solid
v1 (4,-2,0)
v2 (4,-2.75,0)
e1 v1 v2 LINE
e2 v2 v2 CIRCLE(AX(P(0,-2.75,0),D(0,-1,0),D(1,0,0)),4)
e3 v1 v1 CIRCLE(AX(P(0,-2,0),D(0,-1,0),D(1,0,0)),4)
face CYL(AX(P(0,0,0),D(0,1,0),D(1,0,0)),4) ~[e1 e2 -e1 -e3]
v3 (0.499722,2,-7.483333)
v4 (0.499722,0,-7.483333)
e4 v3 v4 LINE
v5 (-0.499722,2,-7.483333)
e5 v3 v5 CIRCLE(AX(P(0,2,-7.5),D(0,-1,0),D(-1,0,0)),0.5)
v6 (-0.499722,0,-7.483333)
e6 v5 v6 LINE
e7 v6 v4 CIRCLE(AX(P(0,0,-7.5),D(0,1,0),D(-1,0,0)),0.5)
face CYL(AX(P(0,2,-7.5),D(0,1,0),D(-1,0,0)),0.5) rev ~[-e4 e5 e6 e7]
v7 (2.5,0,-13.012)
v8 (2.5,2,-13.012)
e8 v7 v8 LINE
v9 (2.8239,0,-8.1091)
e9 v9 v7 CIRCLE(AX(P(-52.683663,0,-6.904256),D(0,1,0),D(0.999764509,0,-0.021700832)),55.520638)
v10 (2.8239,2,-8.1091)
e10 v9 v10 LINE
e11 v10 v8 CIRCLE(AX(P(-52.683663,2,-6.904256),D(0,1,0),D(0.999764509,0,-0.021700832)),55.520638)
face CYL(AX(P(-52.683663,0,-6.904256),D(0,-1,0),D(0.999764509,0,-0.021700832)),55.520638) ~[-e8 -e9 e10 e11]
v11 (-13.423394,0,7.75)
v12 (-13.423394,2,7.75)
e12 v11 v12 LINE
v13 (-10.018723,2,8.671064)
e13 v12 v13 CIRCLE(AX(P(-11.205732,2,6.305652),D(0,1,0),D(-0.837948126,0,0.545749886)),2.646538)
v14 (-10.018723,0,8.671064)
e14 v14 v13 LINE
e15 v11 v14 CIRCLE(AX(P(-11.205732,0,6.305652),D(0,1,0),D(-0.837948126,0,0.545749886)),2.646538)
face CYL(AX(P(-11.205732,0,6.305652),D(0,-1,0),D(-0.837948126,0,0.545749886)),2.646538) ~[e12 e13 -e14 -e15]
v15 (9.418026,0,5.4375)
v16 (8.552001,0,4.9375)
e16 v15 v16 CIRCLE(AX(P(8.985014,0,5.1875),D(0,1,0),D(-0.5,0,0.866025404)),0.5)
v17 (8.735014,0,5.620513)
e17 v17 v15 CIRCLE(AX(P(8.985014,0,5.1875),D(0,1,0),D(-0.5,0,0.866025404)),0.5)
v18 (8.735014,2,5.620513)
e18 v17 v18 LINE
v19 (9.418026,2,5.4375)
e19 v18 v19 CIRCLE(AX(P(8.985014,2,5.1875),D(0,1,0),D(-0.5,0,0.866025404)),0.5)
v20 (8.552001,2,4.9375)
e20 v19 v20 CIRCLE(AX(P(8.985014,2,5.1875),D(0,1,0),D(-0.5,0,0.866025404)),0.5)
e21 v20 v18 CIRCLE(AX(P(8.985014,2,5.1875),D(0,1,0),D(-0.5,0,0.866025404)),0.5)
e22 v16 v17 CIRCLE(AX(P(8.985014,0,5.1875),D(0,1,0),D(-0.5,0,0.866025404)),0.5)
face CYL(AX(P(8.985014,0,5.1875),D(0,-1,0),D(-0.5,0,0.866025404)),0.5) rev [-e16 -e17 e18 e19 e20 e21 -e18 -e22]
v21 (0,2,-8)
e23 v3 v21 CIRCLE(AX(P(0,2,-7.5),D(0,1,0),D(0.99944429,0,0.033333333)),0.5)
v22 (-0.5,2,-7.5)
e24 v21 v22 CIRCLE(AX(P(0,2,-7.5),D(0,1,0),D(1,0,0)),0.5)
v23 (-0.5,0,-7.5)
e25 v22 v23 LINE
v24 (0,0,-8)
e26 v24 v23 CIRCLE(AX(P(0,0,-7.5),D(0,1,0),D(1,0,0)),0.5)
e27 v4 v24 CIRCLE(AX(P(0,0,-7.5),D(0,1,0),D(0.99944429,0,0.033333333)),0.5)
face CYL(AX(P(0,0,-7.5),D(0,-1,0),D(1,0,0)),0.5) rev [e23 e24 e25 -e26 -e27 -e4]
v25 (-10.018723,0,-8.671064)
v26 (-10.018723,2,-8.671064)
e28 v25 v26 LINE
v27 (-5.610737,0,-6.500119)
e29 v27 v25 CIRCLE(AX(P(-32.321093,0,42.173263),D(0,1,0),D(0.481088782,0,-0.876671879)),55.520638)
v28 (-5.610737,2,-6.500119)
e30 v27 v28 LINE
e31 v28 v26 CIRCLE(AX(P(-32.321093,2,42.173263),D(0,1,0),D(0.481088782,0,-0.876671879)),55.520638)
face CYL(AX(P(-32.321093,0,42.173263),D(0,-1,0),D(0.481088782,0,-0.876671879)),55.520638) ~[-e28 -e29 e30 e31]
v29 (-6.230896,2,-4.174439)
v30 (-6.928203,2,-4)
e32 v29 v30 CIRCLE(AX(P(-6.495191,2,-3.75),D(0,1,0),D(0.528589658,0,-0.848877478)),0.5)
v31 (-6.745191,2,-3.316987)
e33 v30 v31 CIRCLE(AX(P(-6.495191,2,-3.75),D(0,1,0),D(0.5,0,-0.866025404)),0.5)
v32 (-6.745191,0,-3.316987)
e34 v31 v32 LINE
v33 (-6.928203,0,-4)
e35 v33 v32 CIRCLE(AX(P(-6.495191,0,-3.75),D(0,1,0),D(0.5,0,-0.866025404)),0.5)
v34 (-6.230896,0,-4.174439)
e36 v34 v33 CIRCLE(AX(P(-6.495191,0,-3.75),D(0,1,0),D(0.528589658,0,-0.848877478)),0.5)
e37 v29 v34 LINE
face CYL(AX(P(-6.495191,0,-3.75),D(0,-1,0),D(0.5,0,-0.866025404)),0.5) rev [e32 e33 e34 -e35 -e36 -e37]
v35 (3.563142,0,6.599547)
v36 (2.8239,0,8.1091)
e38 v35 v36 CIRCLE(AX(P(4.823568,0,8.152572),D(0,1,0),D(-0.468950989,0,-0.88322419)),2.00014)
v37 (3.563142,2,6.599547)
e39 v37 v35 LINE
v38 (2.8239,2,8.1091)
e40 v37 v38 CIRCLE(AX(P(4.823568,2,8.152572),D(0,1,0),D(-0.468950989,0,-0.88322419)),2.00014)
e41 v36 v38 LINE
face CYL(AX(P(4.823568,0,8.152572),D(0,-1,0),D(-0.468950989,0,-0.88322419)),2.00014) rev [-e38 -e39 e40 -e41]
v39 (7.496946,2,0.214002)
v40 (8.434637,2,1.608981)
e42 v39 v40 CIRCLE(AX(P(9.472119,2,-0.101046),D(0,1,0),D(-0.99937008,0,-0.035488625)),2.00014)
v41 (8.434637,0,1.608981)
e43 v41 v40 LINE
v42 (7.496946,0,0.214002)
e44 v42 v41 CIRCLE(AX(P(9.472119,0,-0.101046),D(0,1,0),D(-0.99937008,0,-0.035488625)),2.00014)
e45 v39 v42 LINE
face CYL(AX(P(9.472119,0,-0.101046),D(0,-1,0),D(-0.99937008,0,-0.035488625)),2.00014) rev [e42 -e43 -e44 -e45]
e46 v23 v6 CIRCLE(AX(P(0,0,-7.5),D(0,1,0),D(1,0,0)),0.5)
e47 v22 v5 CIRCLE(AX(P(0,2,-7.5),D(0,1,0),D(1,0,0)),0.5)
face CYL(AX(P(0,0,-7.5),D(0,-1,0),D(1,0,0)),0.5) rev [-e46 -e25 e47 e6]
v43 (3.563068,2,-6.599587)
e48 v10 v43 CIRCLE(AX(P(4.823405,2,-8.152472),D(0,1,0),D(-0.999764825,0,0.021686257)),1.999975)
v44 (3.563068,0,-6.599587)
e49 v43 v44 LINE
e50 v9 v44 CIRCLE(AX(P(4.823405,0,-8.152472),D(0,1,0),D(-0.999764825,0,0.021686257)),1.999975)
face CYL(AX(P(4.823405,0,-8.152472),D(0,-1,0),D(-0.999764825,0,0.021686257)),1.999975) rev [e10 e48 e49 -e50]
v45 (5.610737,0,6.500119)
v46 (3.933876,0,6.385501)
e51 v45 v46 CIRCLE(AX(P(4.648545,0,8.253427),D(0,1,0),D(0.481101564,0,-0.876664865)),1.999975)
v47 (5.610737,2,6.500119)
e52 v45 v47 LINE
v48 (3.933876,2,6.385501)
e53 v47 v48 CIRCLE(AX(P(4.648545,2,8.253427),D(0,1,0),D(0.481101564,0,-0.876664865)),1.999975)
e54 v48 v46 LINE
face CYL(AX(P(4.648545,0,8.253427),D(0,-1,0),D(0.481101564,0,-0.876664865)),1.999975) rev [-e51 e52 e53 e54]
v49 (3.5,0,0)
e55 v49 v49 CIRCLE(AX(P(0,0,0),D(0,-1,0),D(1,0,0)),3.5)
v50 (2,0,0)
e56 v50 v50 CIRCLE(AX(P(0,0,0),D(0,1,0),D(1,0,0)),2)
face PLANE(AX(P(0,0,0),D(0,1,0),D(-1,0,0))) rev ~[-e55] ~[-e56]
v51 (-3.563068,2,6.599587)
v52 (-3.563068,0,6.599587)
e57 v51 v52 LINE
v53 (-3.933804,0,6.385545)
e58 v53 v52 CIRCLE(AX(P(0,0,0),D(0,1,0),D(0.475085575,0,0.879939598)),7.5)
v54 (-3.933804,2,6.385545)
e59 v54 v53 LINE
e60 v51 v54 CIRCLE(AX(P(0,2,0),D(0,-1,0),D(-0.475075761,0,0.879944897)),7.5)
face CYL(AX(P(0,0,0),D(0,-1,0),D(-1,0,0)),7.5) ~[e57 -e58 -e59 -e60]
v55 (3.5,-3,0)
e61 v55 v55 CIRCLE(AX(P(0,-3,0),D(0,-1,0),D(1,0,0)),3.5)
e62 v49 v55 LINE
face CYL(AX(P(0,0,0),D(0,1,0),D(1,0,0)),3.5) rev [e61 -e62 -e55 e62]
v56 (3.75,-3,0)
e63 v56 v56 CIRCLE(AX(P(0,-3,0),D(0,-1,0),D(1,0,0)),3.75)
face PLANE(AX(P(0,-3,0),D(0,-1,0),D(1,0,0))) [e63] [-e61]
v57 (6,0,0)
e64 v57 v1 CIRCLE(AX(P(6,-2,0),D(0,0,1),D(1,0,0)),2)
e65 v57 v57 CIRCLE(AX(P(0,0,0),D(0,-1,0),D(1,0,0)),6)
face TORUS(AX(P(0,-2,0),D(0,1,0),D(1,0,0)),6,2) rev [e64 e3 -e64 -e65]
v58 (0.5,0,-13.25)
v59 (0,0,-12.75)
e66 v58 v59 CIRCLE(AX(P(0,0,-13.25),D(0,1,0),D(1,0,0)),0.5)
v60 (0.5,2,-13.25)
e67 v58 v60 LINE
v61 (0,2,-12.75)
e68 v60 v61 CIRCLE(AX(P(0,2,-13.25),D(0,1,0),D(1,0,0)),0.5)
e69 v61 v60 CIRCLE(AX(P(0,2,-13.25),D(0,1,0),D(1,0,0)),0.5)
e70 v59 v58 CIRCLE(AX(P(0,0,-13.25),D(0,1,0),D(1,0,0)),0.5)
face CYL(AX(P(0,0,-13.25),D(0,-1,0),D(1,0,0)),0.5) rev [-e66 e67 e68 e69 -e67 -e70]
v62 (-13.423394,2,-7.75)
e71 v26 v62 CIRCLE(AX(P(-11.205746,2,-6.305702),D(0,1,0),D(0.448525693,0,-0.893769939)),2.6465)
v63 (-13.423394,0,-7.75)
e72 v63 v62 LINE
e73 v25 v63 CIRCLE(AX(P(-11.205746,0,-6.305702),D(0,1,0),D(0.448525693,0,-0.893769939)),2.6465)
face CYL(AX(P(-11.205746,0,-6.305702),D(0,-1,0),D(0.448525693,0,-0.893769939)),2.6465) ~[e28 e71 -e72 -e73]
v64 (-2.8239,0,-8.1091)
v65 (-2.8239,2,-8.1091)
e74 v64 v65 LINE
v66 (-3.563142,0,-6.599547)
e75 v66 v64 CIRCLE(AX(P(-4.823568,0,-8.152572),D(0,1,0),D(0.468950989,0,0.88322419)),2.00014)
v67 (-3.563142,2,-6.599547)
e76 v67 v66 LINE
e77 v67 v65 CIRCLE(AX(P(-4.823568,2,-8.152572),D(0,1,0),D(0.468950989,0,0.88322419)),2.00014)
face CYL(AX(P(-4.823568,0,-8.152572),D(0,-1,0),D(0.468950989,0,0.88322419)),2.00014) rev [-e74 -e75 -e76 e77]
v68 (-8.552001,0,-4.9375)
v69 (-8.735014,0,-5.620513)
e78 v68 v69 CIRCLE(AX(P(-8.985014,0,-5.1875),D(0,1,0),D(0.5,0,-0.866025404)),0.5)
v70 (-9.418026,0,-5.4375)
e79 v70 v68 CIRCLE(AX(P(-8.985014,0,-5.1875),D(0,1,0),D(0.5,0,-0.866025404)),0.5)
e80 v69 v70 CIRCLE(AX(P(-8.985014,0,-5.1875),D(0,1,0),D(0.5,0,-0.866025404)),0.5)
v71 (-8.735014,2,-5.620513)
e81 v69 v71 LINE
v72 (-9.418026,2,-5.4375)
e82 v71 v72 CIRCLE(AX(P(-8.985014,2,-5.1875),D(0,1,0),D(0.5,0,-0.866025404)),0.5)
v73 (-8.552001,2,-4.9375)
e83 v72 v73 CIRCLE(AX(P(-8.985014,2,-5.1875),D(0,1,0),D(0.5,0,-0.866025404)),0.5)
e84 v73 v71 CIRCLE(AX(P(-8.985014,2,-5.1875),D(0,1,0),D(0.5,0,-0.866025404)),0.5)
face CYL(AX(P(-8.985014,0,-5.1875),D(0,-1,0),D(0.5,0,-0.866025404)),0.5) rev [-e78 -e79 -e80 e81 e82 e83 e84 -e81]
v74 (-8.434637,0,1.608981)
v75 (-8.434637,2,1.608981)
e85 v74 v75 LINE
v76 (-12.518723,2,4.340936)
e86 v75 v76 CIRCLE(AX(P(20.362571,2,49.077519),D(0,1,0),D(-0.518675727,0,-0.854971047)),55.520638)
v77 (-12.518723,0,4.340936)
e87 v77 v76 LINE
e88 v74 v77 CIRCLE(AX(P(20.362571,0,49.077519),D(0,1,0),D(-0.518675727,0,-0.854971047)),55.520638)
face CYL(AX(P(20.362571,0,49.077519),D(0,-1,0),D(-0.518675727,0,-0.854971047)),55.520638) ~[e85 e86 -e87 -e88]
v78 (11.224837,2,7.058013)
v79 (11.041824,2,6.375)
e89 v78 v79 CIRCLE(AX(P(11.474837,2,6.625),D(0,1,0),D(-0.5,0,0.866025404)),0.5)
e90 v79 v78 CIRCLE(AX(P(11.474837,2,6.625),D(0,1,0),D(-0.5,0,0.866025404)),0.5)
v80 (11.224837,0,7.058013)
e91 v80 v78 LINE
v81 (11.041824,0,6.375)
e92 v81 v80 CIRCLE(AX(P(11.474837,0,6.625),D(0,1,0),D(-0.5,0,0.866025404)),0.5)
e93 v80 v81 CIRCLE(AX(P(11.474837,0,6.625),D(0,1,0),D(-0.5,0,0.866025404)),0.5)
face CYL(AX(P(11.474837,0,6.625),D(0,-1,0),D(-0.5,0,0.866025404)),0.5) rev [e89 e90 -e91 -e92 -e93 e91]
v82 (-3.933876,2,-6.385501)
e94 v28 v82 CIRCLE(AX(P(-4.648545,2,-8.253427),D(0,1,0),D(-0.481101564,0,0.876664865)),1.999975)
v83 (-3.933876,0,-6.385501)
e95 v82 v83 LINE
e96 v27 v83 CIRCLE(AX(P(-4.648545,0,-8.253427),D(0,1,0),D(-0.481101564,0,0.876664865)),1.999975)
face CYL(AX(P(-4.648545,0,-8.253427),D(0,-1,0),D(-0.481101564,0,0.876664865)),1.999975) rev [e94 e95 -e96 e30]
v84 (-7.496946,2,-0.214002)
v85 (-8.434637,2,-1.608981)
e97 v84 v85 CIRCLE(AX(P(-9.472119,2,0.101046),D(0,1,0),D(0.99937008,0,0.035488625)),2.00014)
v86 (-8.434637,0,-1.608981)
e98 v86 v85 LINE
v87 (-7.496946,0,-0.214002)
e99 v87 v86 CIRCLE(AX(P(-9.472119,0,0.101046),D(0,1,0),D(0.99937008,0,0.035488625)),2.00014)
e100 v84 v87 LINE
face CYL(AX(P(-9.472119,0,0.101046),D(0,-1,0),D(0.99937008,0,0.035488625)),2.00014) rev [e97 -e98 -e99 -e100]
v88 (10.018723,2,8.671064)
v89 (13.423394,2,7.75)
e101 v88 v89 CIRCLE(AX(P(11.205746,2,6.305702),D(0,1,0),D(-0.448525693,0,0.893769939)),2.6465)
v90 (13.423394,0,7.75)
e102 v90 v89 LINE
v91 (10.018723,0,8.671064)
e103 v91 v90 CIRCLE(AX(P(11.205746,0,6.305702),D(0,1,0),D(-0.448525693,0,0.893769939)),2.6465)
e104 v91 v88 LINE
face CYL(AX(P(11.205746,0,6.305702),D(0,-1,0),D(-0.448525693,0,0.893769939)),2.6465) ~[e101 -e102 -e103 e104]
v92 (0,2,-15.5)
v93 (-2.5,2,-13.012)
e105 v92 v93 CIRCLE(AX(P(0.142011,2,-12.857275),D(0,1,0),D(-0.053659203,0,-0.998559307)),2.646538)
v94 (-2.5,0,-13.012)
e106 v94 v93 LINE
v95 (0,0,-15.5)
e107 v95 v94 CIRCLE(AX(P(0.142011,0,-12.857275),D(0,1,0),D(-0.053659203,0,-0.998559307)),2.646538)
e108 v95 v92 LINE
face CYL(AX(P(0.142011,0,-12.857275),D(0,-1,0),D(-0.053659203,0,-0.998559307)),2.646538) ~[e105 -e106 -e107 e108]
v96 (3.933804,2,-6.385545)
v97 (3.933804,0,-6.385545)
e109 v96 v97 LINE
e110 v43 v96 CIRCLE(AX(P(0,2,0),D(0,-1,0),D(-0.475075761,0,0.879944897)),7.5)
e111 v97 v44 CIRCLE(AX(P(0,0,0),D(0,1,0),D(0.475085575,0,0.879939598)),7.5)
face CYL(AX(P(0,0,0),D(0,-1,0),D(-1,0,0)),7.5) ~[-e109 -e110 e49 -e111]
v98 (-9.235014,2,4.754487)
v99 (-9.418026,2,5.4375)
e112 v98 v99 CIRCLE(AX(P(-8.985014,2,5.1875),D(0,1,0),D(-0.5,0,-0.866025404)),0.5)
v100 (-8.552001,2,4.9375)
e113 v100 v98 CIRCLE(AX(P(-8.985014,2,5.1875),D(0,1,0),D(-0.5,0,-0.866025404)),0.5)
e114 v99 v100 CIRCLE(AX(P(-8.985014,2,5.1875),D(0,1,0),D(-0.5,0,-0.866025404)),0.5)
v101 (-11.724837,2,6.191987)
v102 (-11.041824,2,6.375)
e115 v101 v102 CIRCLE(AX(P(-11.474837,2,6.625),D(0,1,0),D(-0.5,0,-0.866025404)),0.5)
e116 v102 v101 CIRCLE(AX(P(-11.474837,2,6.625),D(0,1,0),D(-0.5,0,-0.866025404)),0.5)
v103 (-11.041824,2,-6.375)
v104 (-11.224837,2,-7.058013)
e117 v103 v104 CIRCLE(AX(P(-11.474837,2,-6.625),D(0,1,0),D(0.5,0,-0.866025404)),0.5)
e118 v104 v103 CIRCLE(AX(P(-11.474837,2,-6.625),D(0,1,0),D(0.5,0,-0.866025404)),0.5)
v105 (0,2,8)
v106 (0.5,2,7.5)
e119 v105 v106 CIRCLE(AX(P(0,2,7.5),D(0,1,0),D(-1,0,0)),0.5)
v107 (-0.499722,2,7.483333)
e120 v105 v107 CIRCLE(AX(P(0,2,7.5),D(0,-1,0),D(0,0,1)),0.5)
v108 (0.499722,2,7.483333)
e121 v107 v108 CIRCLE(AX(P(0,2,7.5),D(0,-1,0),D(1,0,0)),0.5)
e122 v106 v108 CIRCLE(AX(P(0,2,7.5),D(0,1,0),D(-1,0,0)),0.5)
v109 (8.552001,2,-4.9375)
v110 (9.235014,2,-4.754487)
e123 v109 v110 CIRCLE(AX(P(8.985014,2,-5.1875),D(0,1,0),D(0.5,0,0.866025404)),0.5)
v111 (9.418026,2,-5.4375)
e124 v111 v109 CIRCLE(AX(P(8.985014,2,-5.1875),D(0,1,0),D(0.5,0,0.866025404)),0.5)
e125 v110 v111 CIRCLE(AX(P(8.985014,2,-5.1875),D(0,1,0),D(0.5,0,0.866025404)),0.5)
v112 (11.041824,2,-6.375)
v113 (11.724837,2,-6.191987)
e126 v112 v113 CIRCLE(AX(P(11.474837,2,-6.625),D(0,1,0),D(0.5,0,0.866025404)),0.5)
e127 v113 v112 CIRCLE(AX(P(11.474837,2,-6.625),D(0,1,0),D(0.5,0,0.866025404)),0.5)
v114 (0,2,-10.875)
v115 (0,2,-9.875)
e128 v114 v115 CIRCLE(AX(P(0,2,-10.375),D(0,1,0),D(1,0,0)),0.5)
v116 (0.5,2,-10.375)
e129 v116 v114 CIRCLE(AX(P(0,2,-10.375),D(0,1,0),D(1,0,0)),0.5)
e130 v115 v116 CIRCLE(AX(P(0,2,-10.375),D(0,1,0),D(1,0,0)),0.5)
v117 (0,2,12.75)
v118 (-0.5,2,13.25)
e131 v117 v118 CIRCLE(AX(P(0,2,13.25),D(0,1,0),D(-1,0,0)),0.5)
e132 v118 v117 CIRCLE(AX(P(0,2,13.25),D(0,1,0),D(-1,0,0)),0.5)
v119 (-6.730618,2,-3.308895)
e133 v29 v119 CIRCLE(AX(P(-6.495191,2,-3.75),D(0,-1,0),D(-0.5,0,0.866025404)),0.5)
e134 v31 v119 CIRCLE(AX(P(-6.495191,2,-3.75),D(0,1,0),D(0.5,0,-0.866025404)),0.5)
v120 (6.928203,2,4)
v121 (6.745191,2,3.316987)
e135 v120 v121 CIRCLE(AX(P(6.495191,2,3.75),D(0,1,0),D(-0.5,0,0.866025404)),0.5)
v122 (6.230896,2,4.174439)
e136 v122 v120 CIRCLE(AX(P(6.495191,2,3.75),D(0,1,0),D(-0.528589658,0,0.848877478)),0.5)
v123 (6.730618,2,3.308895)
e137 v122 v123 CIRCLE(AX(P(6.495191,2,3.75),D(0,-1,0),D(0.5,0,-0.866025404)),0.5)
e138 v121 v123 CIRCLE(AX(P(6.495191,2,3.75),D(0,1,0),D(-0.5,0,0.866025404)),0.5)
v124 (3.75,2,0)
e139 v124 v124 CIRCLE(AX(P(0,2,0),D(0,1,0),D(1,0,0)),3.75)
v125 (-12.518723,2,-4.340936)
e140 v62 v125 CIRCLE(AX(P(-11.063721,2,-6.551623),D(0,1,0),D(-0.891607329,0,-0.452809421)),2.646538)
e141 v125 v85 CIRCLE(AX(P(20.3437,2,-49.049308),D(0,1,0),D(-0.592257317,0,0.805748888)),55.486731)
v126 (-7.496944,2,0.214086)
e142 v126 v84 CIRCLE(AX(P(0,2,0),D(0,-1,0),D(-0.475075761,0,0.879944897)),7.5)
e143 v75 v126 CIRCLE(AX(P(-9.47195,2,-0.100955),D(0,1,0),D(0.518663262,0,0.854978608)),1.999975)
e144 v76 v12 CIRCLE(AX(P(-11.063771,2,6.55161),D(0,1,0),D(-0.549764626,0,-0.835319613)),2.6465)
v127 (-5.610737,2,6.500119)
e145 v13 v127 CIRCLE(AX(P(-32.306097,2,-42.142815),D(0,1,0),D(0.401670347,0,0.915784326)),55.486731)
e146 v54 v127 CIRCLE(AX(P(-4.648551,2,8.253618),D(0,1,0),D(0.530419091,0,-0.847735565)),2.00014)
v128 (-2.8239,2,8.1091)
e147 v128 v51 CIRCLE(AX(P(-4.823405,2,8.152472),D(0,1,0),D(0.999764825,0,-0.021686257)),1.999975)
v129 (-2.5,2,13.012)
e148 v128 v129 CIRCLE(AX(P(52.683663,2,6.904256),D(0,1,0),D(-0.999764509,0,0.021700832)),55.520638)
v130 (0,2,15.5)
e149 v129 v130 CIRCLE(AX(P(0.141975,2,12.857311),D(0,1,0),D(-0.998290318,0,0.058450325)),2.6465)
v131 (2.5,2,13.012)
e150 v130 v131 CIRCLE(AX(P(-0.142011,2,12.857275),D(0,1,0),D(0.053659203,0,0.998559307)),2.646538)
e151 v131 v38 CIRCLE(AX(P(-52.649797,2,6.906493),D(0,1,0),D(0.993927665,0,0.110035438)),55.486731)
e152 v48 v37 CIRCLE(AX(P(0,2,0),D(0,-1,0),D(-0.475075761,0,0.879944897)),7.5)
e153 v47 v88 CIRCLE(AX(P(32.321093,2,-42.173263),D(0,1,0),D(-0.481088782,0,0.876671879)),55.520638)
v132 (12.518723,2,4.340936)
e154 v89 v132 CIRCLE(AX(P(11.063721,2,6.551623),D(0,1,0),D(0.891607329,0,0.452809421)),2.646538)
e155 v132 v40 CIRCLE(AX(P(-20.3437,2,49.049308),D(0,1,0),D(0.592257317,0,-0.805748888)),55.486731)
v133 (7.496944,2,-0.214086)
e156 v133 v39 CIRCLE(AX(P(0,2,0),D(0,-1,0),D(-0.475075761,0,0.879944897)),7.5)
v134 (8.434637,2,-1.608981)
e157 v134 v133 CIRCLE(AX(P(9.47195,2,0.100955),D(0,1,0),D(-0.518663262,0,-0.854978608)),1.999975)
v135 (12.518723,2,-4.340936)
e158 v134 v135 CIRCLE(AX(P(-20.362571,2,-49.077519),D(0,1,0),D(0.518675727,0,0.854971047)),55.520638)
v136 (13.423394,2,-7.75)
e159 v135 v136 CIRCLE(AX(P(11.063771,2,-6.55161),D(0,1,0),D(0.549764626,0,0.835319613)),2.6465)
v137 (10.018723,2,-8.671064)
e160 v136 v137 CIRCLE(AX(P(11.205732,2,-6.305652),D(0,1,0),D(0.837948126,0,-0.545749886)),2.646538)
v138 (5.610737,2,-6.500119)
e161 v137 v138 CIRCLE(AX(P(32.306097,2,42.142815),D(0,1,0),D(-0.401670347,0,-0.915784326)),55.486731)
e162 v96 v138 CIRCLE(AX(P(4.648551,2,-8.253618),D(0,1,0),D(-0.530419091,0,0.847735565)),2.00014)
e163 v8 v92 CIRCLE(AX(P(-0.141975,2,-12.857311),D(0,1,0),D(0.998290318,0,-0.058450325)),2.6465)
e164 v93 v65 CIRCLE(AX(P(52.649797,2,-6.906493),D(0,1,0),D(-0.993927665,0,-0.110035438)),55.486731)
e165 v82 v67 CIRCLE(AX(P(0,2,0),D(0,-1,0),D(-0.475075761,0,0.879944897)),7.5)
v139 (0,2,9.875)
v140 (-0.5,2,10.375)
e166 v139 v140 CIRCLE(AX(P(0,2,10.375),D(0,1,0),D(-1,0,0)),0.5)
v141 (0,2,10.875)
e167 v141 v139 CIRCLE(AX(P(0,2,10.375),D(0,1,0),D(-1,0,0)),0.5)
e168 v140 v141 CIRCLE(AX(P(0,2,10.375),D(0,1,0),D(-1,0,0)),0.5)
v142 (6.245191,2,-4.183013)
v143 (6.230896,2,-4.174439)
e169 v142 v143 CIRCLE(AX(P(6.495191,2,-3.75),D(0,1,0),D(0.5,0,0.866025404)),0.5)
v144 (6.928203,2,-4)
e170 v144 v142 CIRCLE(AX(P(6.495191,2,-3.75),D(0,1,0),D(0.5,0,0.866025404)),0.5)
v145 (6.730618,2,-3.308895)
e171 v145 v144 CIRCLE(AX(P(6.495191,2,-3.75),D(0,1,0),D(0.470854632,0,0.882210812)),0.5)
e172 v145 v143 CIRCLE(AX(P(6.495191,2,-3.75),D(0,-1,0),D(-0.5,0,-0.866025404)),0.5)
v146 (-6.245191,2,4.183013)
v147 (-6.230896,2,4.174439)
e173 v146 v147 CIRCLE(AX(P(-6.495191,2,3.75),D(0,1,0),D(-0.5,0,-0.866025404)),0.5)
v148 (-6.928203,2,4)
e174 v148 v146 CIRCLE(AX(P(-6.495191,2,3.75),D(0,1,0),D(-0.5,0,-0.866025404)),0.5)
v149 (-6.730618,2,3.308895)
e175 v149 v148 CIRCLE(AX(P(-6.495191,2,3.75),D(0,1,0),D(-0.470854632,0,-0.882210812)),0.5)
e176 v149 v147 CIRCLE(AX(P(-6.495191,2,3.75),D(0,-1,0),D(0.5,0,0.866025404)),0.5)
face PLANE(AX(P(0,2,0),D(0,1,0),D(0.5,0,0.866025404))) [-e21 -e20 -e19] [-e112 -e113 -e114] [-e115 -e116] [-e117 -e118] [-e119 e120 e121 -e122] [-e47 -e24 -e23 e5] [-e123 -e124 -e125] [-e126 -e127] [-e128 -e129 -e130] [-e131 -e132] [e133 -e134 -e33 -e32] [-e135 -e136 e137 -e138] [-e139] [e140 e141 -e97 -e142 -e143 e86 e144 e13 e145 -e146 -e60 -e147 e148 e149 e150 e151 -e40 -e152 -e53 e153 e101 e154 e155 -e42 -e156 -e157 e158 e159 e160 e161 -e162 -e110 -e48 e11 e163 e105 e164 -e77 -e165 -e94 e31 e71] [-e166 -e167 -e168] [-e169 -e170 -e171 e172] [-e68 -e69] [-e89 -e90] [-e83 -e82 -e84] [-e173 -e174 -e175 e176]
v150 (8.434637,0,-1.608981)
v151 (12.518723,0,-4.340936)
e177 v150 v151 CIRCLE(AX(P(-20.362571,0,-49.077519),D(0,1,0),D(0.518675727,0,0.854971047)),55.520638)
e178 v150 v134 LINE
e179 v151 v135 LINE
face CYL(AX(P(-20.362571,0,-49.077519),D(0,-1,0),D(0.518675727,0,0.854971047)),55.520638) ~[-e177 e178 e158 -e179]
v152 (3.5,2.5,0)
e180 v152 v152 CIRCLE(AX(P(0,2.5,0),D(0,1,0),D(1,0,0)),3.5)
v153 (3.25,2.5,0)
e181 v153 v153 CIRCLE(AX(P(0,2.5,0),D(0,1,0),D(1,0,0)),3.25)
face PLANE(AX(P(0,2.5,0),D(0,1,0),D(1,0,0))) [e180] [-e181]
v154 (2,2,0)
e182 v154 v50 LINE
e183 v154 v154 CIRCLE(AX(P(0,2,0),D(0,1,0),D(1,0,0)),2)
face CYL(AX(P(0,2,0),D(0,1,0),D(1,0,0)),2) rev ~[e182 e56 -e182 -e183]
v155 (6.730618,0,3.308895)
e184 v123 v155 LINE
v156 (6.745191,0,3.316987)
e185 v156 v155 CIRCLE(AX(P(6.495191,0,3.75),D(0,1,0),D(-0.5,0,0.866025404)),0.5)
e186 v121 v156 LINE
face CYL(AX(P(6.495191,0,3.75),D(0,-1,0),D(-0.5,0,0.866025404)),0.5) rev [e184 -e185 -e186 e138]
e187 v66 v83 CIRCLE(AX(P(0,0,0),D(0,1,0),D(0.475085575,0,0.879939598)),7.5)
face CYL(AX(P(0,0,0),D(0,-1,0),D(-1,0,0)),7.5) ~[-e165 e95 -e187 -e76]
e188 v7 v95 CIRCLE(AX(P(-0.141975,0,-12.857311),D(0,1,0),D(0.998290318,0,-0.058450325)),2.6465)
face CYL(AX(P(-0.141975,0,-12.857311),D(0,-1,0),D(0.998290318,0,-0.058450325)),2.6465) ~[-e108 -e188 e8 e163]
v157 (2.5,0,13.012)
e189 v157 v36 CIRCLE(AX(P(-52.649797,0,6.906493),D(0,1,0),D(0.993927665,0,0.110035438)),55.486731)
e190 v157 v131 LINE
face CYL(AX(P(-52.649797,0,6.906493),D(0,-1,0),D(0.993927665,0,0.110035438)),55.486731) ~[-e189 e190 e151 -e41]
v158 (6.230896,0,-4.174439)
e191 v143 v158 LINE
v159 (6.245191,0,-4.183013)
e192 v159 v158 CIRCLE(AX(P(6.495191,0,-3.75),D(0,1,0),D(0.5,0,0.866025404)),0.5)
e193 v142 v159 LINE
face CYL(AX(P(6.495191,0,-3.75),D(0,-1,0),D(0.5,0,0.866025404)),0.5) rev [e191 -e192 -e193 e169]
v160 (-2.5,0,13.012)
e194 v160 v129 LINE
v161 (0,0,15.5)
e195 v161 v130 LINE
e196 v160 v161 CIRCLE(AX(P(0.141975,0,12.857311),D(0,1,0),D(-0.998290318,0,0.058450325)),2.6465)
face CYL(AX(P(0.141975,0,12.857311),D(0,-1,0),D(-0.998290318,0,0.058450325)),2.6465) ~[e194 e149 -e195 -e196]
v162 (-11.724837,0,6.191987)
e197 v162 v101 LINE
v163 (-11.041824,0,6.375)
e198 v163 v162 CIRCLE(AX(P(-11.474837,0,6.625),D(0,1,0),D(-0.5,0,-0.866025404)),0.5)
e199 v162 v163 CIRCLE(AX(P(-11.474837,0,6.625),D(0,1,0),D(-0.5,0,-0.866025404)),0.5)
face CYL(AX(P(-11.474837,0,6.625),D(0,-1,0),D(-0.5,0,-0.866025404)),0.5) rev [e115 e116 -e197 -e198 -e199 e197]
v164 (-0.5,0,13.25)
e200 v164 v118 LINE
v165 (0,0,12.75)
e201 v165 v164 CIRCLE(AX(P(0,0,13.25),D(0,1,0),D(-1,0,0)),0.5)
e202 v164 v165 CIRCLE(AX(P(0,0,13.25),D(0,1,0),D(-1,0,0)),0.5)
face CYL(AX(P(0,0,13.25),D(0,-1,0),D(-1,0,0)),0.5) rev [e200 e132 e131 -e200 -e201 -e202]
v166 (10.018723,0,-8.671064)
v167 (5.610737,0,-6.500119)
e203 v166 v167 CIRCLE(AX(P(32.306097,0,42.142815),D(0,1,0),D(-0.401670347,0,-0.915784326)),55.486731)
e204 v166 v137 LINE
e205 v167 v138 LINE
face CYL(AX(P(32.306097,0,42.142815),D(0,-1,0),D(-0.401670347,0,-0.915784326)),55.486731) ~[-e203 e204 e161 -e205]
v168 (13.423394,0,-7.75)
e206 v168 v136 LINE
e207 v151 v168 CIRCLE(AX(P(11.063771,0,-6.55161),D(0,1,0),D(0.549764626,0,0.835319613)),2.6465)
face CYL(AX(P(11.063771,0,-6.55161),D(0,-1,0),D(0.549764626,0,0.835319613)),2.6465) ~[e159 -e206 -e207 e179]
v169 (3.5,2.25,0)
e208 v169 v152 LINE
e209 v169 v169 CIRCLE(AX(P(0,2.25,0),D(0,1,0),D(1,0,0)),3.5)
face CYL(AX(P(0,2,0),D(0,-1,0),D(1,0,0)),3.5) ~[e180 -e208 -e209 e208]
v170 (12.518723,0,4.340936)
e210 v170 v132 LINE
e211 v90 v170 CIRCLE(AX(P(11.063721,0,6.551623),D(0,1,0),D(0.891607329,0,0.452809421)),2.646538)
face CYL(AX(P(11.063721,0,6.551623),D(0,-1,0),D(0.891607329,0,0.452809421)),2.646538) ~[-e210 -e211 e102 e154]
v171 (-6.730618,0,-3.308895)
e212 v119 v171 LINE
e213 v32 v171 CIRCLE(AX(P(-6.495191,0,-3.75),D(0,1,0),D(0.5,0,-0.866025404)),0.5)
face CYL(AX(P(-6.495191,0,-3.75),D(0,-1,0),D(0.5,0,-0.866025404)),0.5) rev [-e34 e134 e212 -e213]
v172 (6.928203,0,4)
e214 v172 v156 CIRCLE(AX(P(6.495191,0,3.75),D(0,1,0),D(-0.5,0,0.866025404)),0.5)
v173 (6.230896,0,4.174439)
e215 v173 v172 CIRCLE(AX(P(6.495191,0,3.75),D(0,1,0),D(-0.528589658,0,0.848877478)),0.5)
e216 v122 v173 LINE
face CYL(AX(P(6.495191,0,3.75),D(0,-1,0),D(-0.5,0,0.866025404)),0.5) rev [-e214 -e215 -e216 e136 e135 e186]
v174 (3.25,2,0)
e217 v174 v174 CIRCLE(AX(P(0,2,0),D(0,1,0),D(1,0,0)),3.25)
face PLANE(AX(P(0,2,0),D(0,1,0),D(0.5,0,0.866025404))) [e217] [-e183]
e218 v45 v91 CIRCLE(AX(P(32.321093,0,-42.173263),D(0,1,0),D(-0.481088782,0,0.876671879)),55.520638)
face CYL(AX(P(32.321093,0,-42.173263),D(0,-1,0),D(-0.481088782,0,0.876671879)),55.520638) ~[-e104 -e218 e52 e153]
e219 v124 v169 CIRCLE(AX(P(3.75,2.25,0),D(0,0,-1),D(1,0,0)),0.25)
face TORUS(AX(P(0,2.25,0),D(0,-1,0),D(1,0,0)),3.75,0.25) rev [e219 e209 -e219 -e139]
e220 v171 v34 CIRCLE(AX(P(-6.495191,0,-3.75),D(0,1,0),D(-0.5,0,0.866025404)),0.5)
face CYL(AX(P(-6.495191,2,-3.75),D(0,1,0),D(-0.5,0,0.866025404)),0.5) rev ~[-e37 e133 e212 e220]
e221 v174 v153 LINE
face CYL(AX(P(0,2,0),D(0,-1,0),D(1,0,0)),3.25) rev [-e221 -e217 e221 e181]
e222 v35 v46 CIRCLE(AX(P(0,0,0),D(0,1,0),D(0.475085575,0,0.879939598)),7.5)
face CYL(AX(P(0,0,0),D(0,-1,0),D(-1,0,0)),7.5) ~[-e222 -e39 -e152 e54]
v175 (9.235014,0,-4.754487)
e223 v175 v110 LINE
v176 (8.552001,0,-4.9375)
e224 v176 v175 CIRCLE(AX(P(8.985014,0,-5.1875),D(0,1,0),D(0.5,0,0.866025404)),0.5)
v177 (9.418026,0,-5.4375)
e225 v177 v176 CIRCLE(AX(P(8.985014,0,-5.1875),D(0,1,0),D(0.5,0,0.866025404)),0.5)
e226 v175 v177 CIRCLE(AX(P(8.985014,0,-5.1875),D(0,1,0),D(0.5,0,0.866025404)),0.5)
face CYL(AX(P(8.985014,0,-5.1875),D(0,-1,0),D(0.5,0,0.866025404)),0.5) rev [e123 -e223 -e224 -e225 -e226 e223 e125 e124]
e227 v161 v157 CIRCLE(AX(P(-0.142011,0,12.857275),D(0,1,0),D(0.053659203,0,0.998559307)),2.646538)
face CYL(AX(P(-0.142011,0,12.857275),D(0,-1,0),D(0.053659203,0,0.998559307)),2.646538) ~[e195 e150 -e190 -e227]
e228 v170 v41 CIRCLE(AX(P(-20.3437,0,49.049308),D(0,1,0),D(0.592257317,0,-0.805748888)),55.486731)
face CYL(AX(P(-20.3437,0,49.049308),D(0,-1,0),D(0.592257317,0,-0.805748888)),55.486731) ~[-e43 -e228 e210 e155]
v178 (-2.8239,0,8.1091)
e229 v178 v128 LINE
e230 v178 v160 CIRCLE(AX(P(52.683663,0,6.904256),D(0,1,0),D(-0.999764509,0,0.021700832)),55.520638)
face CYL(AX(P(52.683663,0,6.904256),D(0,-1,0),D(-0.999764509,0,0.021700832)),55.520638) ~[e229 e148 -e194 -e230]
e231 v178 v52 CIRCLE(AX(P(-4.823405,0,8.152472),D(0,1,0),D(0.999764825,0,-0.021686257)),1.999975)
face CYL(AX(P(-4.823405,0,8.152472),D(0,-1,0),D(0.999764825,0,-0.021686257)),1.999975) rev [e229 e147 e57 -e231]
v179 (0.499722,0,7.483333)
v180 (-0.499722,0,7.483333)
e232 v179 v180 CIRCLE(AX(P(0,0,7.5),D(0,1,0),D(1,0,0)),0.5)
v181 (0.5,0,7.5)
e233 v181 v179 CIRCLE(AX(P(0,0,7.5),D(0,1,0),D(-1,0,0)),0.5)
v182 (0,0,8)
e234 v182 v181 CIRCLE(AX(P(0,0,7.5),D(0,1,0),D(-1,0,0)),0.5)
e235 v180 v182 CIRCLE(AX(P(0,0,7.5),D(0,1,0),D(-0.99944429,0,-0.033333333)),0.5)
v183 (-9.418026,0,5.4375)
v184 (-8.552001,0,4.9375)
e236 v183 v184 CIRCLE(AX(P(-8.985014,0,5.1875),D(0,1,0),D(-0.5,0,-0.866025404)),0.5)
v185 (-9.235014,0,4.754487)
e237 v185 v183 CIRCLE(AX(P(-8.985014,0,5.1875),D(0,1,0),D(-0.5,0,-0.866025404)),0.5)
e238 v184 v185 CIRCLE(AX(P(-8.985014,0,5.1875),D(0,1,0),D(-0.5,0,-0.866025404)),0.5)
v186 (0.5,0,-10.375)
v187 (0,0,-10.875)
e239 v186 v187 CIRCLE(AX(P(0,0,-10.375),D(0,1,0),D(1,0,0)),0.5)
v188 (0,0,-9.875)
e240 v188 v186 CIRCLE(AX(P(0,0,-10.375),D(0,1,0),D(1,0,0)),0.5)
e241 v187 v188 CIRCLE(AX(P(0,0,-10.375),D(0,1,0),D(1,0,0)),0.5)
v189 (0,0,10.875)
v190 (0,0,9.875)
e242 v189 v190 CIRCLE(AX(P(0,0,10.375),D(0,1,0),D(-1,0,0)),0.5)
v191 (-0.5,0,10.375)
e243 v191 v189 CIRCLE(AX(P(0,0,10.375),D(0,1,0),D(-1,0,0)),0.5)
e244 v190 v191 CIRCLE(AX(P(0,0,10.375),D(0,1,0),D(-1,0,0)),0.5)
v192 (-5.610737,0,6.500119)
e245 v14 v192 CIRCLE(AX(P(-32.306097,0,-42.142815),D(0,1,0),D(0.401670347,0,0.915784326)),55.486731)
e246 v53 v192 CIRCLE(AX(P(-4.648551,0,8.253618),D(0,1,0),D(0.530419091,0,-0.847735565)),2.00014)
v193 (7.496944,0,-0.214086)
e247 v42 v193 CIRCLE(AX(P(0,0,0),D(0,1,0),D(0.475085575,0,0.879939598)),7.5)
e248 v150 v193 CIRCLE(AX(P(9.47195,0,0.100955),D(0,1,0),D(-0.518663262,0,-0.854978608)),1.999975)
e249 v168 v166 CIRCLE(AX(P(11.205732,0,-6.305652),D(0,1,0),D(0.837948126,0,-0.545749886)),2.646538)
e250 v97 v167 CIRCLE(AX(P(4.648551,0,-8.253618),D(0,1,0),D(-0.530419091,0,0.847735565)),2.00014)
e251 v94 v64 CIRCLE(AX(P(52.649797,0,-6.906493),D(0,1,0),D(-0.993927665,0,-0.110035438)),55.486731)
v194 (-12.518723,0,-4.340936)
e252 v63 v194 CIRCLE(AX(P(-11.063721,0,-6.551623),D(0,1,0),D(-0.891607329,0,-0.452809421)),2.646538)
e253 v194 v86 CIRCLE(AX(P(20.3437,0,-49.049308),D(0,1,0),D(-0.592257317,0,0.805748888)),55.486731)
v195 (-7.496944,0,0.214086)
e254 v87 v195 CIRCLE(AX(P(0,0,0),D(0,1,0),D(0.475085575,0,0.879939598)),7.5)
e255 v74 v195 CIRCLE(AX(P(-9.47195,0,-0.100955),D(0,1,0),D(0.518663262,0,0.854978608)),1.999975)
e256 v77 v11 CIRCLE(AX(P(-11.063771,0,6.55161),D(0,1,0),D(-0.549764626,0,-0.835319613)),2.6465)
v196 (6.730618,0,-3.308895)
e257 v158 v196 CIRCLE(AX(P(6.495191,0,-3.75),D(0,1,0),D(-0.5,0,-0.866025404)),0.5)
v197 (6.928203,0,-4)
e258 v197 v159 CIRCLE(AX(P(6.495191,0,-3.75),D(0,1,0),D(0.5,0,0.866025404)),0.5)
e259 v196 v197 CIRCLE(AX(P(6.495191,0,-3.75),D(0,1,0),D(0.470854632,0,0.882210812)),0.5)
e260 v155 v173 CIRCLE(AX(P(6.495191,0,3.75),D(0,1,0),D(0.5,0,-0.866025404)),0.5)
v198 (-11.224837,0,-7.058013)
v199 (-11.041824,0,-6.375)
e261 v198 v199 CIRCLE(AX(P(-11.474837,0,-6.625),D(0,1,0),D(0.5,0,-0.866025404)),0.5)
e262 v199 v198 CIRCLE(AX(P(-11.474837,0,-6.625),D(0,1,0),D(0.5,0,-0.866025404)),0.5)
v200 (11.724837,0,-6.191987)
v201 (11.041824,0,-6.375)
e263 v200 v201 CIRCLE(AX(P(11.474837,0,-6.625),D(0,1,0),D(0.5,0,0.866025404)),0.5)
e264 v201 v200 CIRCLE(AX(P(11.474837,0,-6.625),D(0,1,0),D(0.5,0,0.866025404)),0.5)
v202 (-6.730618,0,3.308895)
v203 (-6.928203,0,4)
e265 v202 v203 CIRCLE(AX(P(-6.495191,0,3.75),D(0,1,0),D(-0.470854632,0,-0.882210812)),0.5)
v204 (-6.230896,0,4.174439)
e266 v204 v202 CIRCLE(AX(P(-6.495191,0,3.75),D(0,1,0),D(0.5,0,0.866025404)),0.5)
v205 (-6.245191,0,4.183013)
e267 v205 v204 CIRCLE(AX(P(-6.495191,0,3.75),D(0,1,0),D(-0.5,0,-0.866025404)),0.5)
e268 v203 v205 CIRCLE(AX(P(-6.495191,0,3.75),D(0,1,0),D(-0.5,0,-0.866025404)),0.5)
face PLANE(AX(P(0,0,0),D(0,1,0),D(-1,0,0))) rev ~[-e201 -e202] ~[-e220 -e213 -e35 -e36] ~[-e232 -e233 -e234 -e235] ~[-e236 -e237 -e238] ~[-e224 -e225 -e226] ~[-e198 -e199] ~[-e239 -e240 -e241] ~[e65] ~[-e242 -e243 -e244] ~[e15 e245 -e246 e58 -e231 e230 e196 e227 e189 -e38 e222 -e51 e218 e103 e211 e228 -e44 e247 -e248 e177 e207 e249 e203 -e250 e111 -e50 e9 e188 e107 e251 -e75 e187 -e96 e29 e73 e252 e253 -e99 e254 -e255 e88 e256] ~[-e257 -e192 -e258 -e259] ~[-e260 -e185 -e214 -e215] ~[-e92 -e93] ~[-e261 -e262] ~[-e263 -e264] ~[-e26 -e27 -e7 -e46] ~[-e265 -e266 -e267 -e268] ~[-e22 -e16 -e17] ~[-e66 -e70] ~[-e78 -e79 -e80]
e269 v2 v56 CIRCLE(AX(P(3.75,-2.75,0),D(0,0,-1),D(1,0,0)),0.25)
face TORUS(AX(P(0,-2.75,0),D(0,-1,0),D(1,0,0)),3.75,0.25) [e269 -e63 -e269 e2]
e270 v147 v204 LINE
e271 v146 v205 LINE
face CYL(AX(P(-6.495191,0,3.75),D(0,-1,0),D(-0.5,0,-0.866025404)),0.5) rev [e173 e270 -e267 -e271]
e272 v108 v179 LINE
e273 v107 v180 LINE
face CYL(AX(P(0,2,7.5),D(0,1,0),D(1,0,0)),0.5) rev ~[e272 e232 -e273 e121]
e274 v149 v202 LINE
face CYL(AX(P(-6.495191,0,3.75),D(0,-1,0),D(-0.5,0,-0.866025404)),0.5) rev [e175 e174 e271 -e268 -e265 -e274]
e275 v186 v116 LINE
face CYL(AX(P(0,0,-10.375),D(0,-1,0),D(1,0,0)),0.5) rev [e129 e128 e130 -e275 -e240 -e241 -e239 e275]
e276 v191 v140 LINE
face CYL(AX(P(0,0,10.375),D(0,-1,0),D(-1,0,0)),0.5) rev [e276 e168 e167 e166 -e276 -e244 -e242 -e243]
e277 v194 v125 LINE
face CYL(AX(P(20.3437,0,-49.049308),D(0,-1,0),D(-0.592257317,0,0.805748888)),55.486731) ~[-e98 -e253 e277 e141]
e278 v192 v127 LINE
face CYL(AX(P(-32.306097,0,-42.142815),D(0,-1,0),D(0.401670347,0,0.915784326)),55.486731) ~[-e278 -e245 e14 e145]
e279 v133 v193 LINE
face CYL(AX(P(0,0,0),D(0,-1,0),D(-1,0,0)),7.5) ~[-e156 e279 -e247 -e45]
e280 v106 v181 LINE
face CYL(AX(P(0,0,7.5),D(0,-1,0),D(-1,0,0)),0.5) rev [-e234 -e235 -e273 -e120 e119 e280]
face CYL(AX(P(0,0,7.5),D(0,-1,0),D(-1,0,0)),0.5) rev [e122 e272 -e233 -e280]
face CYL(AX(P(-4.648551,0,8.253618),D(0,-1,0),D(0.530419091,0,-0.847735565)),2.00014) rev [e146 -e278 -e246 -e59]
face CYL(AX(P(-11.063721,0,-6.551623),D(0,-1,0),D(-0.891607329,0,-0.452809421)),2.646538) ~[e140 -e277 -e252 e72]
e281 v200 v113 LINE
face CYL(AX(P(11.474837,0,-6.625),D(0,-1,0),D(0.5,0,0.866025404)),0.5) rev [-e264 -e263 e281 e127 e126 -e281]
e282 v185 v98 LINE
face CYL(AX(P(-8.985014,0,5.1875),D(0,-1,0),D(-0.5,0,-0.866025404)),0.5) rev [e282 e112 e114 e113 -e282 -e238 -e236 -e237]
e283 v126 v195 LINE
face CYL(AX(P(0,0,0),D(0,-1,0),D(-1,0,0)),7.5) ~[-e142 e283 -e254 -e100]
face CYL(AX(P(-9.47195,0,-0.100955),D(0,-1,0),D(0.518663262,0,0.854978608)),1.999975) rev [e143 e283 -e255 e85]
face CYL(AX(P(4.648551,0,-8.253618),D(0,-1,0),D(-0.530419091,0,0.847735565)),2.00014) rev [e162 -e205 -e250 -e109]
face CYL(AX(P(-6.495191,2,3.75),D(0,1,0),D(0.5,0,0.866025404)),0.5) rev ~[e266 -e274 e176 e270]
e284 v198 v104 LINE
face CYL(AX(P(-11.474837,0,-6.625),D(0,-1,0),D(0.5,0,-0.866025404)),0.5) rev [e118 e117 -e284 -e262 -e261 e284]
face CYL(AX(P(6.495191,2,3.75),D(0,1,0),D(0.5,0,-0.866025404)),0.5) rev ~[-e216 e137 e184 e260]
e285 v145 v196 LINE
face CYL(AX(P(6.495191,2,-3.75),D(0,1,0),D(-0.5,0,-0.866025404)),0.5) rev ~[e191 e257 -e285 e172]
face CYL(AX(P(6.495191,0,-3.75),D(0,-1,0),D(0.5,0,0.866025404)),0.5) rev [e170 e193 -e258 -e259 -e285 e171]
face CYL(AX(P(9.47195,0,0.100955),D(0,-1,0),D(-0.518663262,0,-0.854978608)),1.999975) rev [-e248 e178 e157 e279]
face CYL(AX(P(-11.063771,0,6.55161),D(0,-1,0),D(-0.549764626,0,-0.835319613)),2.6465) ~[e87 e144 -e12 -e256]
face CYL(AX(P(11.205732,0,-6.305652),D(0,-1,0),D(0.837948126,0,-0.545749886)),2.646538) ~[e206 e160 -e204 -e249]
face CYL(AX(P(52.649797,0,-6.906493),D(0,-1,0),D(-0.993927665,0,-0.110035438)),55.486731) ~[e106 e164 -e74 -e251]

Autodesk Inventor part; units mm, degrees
ref_plane "YZ Plane" through (0, 0, 0) normal (1, 0, 0) x (0, 1, 0)
ref_plane "XZ Plane" through (0, 0, 0) normal (0, 1, 0) x (-1, 0, 0)
ref_plane "XY Plane" through (0, 0, 0) normal (0, 0, 1) x (1, 0, 0)
sketch "Szkic1" plane through (0, 0, 0) normal (0, 1, 0) x (-1, 0, 0)
  circle A0 centre (0, 0) radius 3.5
  line L0 (0, 0) -> (2.5, 0)
  line L1 (2.5, 0) -> (-2.5, 0)
  arc A1 (2.5, 13.012) -> (0, 15.5) centre (-0.142, 12.8573) ccw
  arc A2 (2.8239, 8.1091) -> (2.5, 13.012) centre (-52.6667, 6.905) ccw
  arc A3 (0, 15.5) -> (-2.5, 13.012) centre (0.142, 12.8573) ccw
  arc A4 (-2.5, 13.012) -> (-2.8239, 8.1091) centre (52.6667, 6.905) ccw
  circle A5 centre (0, 13.25) radius 0.5
  line L2 (3.8856, 6.386) -> (4.1618, 6.2393)
  arc A6 (2.8239, 8.1091) -> (3.8856, 6.386) centre (4.8235, 8.1525) ccw
  line L3 (-3.8856, 6.386) -> (-4.1618, 6.2393)
  arc A7 (-3.8856, 6.386) -> (-2.8239, 8.1091) centre (-4.8235, 8.1525) ccw
  line L4 (-4.1618, 6.2393) -> (4.1618, 6.2393)
  line L5 (0, 0) -> (0, 7.5)
  circle A8 centre (0, 7.5) radius 0.5
  line L6 (0, 13.25) -> (0, 7.5)
  circle A9 centre (0, 10.375) radius 0.5
  point P0 (2.837, 6.9427)
  point P1 (-2.837, 6.9427)
  dimension "d0" = 7
  dimension "d4" = 2.5
  dimension "d5" = 5
  dimension "d6" = 1
  dimension "d8" = 1.5
  dimension "d9" = 2
  dimension "d10" = 1.5
  dimension "d11" = 2
  dimension "d15" = 7.5
  dimension "d16" = 1
  dimension "d17" = 1
sketch "Szkic2" plane through (0, 0, 0) normal (0, 1, 0) x (-1, 0, 0)
  circle A0 centre (0, 0) radius 7.5
  dimension "d12" = 15
extrude "Wyciągnięcie proste1" add sketch "Szkic2" along normal blind 2
extrude "Wyciągnięcie proste2" add sketch "Szkic1" along normal blind 2 contours L4 L3 A7 A4 A3 A1 A2 A6 L2
pattern_circular "Szyk kołowy1" count 6 over 360 about axis through (0, 2, 0) along (0, 1, 0) of "Wyciągnięcie proste2"
sketch "Szkic3" plane through (0, 2, 0) normal (0, 1, 0) x (1, 0, 0)
  arc A0 (-0.4997, -7.4833) -> (0.4997, -7.4833) centre (0, 0) ccw projected
  circle A1 centre (0, -7.5) radius 0.5
  dimension "d23" = 1
extrude "Wyciągnięcie proste3" cut sketch "Szkic3" against normal blind 2
pattern_circular "Szyk kołowy2" count 6 over 360 about axis through (0, 2, 0) along (0, 1, 0) of "Wyciągnięcie proste3"
sketch "Szkic4" plane through (0, 2, 0) normal (0, 1, 0) x (1, 0, 0)
  circle A0 centre (0, 0) radius 3.5
  circle A1 centre (0, 0) radius 3.25
  dimension "d29" = 7
  dimension "d30" = 6.5
extrude "Wyciągnięcie proste4" add sketch "Szkic4" along normal blind 0.5
sketch "Szkic5" plane through (0, 2, 0) normal (0, 1, 0) x (1, 0, 0)
  circle A0 centre (0, 0) radius 2
  dimension "d33" = 4
extrude "Wyciągnięcie proste5" cut sketch "Szkic5" against normal blind 2
sketch "Szkic6" plane through (0, 0, 0) normal (0, -1, 0) x (1, 0, 0)
  circle A0 centre (0, 0) radius 4
  circle A1 centre (0, 0) radius 3.5
  dimension "d36" = 8
  dimension "d37" = 7
extrude "Wyciągnięcie proste6" add sketch "Szkic6" along normal blind 3
fillet "Zaokrąglenie1" radius 2 1 edges at (-4, 0, 0)
fillet "Zaokrąglenie2" radius 0.25 1 edges at (-4, -3, 0)
fillet "Zaokrąglenie3" radius 0.25 1 edges at (-3.5, 2, 0)
properties part number "Sevo arm TowerPro SG-5010"
